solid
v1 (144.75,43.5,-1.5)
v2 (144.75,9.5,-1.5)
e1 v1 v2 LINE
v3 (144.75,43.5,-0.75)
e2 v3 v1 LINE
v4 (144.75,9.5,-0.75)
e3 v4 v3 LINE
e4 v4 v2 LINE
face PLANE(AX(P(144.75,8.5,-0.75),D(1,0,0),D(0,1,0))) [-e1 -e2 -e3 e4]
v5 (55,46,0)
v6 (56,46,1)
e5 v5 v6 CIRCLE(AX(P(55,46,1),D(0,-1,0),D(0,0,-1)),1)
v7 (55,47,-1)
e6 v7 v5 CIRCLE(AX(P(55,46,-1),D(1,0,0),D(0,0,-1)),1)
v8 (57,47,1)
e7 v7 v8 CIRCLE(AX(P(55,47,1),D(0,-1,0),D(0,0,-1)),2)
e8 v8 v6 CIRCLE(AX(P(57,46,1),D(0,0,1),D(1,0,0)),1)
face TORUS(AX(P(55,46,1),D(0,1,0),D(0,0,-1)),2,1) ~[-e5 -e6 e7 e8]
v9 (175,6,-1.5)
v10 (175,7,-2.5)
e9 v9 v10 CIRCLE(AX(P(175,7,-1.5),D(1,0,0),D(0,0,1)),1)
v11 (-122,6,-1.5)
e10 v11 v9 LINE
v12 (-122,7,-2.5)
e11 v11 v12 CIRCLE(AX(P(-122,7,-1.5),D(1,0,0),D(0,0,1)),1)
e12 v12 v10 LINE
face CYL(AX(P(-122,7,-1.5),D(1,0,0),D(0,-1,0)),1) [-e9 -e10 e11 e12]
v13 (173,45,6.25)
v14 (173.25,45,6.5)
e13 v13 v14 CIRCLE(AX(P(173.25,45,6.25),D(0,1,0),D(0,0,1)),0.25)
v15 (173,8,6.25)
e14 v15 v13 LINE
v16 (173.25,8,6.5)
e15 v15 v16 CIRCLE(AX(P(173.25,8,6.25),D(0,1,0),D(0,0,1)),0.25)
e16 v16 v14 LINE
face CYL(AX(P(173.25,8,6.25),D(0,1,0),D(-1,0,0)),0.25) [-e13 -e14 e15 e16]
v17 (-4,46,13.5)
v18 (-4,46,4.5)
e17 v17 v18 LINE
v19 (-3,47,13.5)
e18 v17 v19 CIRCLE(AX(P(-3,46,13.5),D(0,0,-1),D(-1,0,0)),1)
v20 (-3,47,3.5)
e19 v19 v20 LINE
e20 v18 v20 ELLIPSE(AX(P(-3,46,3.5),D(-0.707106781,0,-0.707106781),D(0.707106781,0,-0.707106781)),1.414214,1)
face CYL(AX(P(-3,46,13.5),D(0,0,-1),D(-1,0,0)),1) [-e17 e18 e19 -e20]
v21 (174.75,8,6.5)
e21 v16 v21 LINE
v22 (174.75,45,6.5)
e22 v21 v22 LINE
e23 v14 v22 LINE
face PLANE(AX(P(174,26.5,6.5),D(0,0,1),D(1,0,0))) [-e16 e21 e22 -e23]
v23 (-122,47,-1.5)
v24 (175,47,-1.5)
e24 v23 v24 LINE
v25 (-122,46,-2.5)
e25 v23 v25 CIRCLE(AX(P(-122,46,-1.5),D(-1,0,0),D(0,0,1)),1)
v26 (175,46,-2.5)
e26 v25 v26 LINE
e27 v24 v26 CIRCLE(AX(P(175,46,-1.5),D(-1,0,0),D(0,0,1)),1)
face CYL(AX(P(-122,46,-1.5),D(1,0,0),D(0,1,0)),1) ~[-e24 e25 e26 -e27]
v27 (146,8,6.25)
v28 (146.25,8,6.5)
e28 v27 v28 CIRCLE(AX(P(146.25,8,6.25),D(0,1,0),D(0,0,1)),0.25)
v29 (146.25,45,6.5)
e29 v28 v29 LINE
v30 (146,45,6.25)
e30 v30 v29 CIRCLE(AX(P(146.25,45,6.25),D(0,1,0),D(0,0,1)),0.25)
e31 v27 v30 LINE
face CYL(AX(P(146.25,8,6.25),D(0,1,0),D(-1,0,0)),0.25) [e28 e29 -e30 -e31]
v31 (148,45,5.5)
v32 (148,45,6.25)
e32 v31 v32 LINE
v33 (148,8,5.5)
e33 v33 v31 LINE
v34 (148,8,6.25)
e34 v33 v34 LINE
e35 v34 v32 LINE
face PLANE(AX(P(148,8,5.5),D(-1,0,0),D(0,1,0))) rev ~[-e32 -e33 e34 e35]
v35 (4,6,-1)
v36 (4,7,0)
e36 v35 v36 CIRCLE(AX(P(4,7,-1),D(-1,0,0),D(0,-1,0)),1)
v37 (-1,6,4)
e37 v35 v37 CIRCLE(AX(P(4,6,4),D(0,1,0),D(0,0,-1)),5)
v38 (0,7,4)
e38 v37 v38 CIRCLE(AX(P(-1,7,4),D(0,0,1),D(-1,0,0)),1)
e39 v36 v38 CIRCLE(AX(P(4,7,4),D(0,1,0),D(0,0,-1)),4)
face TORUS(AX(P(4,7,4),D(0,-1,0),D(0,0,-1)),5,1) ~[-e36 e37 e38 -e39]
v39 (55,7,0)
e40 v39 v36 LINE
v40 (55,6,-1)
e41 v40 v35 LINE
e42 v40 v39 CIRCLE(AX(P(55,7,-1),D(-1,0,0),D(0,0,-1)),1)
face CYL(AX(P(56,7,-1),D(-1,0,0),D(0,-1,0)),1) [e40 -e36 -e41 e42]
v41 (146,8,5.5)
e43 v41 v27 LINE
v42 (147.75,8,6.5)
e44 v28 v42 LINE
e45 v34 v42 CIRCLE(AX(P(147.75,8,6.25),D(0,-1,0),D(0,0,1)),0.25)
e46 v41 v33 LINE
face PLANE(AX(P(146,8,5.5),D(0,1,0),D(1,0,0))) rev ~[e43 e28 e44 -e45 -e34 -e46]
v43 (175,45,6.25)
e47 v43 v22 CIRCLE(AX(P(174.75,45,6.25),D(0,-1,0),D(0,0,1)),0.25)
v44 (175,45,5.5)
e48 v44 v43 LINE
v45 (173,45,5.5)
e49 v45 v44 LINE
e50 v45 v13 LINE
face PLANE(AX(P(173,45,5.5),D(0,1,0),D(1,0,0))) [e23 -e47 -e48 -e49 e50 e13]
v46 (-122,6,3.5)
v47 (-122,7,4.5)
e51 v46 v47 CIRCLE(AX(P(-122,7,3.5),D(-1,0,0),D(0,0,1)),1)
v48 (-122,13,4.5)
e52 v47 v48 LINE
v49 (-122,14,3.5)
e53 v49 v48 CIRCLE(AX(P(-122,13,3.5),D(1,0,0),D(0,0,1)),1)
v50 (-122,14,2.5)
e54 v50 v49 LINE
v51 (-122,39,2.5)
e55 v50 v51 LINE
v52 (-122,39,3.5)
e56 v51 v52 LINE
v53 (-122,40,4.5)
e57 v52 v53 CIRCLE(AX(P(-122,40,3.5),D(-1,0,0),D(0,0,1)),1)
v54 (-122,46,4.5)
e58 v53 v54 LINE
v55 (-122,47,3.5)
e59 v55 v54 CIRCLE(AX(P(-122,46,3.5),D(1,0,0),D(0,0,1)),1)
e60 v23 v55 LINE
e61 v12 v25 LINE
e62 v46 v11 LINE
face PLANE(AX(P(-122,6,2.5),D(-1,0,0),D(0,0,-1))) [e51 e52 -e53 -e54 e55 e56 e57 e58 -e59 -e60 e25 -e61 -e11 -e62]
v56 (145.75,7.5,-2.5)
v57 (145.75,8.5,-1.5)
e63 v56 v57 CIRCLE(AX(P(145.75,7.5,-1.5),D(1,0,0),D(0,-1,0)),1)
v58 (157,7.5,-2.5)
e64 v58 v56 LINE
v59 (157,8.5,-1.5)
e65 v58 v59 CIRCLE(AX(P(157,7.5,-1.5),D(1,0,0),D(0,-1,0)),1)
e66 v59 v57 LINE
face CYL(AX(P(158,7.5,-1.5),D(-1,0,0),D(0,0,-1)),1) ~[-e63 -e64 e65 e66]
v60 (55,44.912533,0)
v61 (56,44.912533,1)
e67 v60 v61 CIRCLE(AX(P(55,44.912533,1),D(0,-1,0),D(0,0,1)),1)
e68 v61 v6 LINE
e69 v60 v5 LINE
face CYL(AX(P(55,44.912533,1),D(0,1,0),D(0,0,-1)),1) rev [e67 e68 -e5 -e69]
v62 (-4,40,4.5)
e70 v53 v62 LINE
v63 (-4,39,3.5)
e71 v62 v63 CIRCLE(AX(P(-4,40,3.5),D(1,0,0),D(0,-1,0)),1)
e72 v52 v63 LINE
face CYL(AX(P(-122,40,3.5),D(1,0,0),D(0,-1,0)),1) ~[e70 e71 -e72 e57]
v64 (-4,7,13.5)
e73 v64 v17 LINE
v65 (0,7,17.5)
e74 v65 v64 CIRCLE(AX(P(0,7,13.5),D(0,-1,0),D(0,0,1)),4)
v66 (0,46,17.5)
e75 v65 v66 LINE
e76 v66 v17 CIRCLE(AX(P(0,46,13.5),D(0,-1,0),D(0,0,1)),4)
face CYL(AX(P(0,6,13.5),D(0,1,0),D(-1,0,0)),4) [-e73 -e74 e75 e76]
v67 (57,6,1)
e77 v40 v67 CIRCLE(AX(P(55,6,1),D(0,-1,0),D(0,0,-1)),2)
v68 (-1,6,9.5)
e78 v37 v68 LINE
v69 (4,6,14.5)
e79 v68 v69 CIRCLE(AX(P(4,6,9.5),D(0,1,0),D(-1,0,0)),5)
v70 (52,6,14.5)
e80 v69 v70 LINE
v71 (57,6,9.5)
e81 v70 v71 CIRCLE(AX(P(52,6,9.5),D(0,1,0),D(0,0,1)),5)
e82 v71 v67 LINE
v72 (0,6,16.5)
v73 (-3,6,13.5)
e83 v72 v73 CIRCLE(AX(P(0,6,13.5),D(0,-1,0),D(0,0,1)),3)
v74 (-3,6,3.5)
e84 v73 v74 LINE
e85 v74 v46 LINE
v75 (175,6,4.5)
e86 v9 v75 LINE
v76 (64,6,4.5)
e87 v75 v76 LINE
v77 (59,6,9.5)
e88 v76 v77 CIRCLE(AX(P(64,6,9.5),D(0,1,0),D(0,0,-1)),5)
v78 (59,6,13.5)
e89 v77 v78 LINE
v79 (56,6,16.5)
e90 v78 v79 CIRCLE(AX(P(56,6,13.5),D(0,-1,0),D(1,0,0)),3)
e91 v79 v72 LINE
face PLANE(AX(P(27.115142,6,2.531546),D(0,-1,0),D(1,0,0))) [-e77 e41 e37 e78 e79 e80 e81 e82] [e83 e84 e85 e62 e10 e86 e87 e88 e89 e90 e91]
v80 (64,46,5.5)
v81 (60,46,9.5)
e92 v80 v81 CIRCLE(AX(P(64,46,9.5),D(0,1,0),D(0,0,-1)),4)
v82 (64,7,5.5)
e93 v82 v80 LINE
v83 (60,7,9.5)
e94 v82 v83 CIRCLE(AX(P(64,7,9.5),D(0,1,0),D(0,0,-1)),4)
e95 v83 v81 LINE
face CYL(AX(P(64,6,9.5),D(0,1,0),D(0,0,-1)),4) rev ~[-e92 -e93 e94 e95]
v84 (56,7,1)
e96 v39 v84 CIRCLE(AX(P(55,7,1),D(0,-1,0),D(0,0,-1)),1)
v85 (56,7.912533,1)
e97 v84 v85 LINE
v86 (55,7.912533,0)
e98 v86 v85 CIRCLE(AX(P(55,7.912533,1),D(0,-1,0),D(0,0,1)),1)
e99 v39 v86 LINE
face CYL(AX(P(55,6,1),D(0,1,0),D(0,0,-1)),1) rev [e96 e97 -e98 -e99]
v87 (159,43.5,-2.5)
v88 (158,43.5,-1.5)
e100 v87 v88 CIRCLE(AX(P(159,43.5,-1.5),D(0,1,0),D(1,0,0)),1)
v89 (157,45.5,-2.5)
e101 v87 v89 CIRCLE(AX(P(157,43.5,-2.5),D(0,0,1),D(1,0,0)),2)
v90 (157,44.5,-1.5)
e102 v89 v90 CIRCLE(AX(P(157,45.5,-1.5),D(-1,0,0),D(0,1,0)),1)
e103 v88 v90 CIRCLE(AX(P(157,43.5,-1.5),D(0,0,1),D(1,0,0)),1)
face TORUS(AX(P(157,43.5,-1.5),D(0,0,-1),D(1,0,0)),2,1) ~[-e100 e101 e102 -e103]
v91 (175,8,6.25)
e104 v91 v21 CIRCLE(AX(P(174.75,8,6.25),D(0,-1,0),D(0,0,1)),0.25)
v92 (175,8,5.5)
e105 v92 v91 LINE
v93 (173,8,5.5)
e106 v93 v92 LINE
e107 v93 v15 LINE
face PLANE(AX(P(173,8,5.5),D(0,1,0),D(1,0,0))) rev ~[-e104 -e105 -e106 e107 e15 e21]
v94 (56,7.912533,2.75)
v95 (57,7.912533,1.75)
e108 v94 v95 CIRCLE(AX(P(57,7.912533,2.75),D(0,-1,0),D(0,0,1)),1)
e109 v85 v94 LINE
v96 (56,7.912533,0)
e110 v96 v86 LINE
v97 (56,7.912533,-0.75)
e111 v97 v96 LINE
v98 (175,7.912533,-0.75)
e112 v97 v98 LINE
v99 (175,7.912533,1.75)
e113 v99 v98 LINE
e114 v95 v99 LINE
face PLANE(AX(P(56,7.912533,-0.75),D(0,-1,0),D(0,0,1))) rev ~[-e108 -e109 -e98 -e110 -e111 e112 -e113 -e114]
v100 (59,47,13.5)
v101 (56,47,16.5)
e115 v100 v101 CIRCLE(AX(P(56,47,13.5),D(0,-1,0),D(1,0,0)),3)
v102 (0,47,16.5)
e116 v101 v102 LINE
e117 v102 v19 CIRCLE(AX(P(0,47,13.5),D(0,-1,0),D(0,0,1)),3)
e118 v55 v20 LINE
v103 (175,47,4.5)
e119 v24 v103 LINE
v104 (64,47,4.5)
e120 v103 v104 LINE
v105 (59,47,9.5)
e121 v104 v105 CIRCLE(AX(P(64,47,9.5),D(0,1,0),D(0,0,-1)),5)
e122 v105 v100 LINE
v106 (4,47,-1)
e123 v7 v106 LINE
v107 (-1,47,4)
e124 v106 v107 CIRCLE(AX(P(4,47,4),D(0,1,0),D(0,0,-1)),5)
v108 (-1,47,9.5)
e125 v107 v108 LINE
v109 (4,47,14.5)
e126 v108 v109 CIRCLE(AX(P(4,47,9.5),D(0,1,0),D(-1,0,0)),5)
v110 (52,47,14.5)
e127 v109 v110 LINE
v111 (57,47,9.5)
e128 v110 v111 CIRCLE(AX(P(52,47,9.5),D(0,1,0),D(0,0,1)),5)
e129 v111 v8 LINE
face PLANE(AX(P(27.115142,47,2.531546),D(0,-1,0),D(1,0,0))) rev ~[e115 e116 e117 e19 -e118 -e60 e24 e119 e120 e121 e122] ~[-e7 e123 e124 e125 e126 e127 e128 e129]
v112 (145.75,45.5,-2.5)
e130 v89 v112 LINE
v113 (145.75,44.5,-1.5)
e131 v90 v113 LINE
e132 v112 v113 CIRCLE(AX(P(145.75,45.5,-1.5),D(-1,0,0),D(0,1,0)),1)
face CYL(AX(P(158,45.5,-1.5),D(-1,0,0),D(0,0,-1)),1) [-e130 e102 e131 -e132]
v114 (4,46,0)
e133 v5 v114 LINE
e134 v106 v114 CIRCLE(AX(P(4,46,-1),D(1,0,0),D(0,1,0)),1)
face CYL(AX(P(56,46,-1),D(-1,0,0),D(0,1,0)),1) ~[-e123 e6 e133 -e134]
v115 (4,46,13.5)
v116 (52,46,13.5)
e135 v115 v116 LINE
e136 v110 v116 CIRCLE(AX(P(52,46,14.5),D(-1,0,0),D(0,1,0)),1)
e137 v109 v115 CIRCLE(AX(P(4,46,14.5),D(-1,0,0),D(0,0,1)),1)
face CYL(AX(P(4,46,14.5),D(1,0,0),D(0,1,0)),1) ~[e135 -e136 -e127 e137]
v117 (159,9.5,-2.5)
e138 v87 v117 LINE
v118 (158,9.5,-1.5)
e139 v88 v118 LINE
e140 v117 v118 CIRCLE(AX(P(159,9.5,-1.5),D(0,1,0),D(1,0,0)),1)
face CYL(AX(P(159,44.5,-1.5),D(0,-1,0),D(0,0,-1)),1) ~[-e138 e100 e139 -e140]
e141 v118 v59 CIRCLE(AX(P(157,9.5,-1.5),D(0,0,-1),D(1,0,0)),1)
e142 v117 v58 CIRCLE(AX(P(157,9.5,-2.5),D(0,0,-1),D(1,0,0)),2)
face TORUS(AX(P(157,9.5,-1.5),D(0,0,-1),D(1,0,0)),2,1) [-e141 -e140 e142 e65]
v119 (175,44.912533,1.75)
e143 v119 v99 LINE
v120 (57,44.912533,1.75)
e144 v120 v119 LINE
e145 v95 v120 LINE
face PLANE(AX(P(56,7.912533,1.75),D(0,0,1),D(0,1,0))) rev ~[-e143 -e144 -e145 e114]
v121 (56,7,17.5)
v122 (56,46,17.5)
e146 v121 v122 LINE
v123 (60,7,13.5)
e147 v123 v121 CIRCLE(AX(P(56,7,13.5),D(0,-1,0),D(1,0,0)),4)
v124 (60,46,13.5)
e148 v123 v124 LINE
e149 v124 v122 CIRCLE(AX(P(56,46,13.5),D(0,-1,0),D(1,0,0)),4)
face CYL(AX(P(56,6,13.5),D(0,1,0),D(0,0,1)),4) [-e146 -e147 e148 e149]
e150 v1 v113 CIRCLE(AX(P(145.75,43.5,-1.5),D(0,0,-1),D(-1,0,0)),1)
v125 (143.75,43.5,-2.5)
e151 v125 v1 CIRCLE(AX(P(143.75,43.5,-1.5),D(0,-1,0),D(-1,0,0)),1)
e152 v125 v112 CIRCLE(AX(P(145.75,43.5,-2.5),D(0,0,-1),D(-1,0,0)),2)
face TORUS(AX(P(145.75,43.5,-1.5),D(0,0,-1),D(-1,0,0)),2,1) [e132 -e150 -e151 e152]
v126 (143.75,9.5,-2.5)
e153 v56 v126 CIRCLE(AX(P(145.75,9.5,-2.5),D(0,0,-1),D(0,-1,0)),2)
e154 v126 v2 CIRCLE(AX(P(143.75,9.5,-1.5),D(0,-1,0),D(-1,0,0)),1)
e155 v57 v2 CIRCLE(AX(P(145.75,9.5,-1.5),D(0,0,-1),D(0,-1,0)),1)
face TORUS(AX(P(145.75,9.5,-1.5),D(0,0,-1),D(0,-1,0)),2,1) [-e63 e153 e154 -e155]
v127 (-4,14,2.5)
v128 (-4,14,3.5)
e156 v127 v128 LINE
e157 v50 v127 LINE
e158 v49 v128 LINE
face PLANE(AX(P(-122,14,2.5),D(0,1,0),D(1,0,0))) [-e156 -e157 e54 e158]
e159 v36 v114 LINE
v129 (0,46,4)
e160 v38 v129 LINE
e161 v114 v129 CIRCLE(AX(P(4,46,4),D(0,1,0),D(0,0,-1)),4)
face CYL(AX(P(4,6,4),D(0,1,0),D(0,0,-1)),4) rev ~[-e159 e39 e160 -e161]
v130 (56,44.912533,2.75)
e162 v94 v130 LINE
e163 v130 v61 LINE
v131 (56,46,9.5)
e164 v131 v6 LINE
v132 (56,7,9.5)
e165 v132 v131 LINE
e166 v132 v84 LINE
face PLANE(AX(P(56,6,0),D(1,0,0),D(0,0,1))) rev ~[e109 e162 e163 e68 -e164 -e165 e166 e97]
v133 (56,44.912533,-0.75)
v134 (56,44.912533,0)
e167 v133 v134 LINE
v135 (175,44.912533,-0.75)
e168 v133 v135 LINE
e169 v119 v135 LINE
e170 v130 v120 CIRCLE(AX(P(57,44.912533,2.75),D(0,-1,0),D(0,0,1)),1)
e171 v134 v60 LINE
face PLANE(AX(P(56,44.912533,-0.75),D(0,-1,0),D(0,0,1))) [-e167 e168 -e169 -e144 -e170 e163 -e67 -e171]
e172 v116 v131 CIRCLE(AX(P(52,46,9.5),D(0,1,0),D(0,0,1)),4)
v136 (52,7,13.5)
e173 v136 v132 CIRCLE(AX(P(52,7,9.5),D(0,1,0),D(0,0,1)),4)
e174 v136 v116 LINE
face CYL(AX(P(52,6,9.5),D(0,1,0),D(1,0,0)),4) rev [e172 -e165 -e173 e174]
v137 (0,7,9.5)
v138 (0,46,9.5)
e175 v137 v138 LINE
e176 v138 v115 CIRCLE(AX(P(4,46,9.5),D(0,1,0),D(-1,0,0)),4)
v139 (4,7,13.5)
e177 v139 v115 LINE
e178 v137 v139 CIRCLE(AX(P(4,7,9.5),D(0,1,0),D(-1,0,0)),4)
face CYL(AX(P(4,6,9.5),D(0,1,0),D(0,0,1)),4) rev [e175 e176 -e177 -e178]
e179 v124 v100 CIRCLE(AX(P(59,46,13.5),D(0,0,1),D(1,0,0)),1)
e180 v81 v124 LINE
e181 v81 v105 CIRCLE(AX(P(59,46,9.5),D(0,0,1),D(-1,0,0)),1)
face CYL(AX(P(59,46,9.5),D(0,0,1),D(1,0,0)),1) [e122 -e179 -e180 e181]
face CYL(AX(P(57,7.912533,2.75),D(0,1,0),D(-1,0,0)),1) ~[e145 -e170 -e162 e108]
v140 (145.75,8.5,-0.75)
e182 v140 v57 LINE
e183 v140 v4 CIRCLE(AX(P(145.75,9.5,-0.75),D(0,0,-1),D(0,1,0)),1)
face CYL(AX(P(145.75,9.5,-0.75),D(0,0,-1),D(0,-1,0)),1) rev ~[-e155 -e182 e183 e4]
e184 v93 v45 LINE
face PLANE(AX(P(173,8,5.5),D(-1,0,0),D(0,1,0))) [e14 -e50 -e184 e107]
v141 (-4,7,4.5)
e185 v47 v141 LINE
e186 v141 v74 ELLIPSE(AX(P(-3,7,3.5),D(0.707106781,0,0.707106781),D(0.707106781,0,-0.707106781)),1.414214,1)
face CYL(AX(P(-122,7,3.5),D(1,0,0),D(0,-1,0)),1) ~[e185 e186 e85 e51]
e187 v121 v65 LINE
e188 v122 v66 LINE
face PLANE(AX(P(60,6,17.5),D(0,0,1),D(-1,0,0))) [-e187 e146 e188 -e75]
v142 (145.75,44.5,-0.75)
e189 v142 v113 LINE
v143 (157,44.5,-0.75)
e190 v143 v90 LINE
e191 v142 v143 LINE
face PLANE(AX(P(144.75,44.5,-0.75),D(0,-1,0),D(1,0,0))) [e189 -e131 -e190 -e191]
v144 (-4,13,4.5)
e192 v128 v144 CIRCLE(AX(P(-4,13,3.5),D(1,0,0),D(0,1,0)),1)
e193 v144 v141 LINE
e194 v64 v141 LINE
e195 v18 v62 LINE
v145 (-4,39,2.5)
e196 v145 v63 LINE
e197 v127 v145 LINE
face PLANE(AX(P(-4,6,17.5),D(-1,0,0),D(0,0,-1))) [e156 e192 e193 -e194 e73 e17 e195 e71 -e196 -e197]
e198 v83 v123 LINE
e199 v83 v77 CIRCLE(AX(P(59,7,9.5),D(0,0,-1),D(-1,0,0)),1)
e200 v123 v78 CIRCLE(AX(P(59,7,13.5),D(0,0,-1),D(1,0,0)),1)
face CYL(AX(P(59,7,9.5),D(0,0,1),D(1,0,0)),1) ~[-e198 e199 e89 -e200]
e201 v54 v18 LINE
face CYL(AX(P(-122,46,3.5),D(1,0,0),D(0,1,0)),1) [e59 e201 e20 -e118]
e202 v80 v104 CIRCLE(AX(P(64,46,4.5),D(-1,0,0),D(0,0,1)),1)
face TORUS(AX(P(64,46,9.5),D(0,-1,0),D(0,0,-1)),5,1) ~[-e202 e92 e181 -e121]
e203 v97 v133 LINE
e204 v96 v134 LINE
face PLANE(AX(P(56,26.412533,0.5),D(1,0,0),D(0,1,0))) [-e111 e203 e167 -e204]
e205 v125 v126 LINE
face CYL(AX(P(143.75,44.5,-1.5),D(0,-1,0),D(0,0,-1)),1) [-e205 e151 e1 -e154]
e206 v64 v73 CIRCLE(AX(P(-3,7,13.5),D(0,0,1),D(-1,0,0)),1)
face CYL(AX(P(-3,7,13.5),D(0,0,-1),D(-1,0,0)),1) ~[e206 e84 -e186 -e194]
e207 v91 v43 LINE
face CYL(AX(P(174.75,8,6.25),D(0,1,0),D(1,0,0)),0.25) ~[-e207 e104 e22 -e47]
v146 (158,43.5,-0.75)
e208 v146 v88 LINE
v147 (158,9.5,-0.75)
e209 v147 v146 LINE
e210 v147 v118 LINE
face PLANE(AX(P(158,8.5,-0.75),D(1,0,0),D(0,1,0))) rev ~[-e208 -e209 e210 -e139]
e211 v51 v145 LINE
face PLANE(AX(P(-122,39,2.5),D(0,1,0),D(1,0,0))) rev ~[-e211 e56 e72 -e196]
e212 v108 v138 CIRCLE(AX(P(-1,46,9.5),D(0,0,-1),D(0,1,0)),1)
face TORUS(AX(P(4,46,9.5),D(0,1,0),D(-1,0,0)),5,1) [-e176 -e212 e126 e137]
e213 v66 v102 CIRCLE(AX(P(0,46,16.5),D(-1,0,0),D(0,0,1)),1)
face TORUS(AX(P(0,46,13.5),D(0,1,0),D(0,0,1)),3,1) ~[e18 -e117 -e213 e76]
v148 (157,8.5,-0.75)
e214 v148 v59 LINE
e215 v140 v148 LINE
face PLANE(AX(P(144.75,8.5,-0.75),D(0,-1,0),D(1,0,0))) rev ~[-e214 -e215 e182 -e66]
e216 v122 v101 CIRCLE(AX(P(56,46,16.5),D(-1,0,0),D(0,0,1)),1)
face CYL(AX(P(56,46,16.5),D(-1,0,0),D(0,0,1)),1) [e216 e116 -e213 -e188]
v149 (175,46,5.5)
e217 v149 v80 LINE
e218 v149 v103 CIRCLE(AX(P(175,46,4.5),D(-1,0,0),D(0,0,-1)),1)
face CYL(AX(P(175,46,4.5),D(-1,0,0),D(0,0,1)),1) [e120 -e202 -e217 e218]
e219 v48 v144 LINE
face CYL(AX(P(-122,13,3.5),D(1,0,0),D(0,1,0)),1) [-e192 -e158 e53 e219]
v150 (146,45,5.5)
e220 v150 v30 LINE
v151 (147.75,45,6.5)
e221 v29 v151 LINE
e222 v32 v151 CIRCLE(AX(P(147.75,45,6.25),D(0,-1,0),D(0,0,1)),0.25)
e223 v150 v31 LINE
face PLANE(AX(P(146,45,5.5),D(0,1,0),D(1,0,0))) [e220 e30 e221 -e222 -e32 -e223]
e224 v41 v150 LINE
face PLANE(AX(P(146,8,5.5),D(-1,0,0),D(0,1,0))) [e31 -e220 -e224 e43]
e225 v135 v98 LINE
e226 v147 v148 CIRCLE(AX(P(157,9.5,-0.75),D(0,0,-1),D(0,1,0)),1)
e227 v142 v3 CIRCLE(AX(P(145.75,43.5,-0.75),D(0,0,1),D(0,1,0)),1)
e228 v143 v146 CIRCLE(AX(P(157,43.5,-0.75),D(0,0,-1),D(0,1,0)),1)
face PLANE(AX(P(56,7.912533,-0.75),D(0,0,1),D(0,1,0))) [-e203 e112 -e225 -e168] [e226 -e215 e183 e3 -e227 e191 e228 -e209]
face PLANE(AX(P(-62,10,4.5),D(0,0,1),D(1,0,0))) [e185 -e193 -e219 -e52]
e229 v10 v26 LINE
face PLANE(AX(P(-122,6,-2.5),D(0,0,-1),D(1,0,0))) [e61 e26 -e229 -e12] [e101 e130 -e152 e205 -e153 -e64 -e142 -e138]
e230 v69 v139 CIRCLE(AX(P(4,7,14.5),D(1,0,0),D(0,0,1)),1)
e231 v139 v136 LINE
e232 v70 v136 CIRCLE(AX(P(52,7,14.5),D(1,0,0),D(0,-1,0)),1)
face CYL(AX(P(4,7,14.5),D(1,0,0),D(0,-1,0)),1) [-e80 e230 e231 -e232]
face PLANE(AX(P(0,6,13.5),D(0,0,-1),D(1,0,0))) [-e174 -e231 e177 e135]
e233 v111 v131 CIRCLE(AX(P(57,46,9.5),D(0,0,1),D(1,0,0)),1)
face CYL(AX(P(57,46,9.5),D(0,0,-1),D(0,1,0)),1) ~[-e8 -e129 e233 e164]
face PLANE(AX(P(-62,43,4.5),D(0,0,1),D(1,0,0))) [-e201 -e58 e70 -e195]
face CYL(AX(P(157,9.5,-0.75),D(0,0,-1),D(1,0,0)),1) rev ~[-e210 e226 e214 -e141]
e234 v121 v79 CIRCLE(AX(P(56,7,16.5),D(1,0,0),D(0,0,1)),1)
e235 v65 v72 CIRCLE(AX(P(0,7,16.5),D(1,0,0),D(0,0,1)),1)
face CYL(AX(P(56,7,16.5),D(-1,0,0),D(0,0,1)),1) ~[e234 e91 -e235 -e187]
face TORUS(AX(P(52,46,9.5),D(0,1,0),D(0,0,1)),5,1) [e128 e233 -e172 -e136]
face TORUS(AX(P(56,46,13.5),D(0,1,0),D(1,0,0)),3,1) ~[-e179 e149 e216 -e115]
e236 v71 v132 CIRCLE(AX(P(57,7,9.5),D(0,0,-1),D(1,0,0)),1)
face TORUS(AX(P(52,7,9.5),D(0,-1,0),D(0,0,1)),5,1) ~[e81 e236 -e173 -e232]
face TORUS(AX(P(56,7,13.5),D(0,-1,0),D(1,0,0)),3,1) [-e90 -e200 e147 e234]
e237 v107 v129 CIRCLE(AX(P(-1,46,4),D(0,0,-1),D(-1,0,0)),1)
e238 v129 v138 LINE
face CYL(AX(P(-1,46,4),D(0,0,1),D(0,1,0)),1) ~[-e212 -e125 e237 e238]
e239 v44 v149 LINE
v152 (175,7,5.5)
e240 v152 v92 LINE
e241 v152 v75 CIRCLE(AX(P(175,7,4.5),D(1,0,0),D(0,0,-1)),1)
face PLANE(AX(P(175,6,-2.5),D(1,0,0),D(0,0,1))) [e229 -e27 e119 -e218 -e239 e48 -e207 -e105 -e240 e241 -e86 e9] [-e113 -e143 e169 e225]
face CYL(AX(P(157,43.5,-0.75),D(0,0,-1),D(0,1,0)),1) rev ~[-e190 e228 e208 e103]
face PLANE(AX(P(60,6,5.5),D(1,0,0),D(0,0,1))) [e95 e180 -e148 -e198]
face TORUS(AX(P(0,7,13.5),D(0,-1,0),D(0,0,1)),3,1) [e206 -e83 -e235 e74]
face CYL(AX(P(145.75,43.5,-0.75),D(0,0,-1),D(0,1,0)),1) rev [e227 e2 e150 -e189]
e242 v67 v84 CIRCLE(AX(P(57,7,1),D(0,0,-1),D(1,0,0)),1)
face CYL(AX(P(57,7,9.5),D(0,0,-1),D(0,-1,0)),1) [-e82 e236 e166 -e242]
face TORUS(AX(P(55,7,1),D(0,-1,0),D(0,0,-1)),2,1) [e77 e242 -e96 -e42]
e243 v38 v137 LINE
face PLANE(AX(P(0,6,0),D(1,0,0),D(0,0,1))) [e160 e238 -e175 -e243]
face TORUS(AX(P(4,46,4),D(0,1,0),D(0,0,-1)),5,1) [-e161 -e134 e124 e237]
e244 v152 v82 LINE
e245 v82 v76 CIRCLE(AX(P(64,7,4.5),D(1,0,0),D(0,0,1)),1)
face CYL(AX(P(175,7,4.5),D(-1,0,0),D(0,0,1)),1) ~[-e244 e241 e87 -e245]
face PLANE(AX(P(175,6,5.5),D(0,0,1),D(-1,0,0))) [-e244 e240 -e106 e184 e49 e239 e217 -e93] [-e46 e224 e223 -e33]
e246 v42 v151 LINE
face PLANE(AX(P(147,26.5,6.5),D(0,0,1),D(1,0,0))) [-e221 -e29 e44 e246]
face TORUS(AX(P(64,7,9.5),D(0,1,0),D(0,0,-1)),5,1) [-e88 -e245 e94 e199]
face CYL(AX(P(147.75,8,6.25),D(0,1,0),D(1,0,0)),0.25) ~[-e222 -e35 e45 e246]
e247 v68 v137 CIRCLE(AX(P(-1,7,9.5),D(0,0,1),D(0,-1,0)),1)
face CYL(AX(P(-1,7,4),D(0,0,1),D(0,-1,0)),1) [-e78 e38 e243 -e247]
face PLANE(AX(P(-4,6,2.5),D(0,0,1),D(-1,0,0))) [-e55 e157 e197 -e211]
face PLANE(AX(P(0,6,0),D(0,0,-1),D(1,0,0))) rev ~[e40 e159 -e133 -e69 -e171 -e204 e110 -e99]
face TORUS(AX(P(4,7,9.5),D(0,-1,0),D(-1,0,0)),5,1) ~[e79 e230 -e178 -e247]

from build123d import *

# Parameters (mm, degrees)
SKETCH037_W      = 2
SKETCH037_H      = 37
EXTRUDE036_DEPTH = 1
FILLET012_R      = 0.25
SKETCH038_W      = 13.25
SKETCH038_H      = 36
EXTRUDE037_DEPTH = 2
SKETCH031_W      = 37
SKETCH031_H      = 2.5
EXTRUDE029_DEPTH = 120
SKETCH030_W      = 56
SKETCH030_H      = 13.5
EXTRUDE028_DEPTH = 41
SKETCH036_W      = 120
SKETCH036_H      = 8
EXTRUDE035_DEPTH = 2
FILLET011_R      = 1
FILLET013_R      = 4
FILLET014_R      = 1


with BuildPart() as velcrobands:
    # Sketch037 → Extrude036 (new body)
    with BuildSketch(Plane.XY.offset(5.5)):
        with Locations((174, 26.5)):
            Rectangle(SKETCH037_W, SKETCH037_H)
        with Locations((147, 26.5)):
            Rectangle(SKETCH037_W, SKETCH037_H)
    extrude(amount=EXTRUDE036_DEPTH)

    # Fillet012
    fillet012_edges = [velcrobands.edges().sort_by_distance(p)[0] for p in [
        (148, 26.5, 6.5),
        (146, 26.5, 6.5),
        (173, 26.5, 6.5),
        (175, 26.5, 6.5),
    ]]
    fillet(fillet012_edges, radius=FILLET012_R)


with BuildPart() as sensorcuts:
    # Sketch038 → Extrude037 (new body)
    with BuildSketch(Plane.XY.offset(-0.75)):
        with Locations((151.375, 26.5)):
            Rectangle(SKETCH038_W, SKETCH038_H)
    extrude(amount=-EXTRUDE037_DEPTH)


with BuildPart() as extrude029:
    # Sketch031 → Extrude029 (new body)
    with BuildSketch(Plane.YZ.offset(56)):
        with Locations((26.412533, 0.5)):
            Rectangle(SKETCH031_W, SKETCH031_H)
    extrude(amount=EXTRUDE029_DEPTH)


with BuildPart() as band002:
    # Sketch030 → Extrude028 (new body)
    with BuildSketch(Plane.XZ.offset(-6)):
        Polygon((175, 5.5), (60, 5.5), (60, 17.5), (-4, 17.5), (-4, 2.5), (-122, 2.5), (-122, -2.5), (175, -2.5), align=None)
        with Locations((28, 6.75)):
            Rectangle(SKETCH030_W, SKETCH030_H, mode=Mode.SUBTRACT)
    extrude(amount=-EXTRUDE028_DEPTH)

    # Cut002: cut Extrude029
    add(extrude029.part, mode=Mode.SUBTRACT)

    # Cut005: cut sensorCuts
    add(sensorcuts.part, mode=Mode.SUBTRACT)


with BuildPart() as fillet014:
    # Sketch036 → Extrude035 (new body)
    with BuildSketch(Plane.XY.offset(2.5)):
        with Locations((-62, 43)):
            Rectangle(SKETCH036_W, SKETCH036_H)
        with Locations((-62, 10)):
            Rectangle(SKETCH036_W, SKETCH036_H)
    extrude(amount=EXTRUDE035_DEPTH)

    # Fillet011
    fillet011_edges = [fillet014.edges().sort_by_distance(p)[0] for p in [
        (-62, 14, 4.5),
        (-62, 6, 4.5),
        (-62, 47, 4.5),
        (-62, 39, 4.5),
    ]]
    fillet(fillet011_edges, radius=FILLET011_R)

    # Fusion011: union velcroBands, band002
    add(velcrobands.part)
    add(band002.part)

    # Fillet013
    fillet013_edges = [fillet014.edges().sort_by_distance(p)[0] for p in [
        (60, 26.5, 5.5),
        (60, 26.5, 17.5),
        (-4, 26.5, 17.5),
        (0, 26.5, 0),
        (0, 26.5, 13.5),
        (56, 26.5, 13.5),
    ]]
    fillet(fillet013_edges, radius=FILLET013_R)

    # Fillet014
    fillet014_edges = [fillet014.edges().sort_by_distance(p)[0] for p in [
        (119.5, 6, 5.5),
        (26.5, 6, -2.5),
        (28, 6, 17.5),
        (28, 6, 13.5),
        (119.5, 47, 5.5),
        (26.5, 47, -2.5),
        (158, 26.5, -2.5),
        (151.375, 8.5, -2.5),
        (144.75, 26.5, -2.5),
        (151.375, 44.5, -2.5),
        (28, 47, 17.5),
        (56, 6.956266, 0),
        (56, 45.956266, 0),
        (28, 47, 13.5),
        (56, 26.412533, 1.75),
        (158, 8.5, -1.625),
        (158, 44.5, -1.625),
        (144.75, 8.5, -1.625),
        (144.75, 44.5, -1.625),
    ]]
    fillet(fillet014_edges, radius=FILLET014_R)


solid = fillet014.part
